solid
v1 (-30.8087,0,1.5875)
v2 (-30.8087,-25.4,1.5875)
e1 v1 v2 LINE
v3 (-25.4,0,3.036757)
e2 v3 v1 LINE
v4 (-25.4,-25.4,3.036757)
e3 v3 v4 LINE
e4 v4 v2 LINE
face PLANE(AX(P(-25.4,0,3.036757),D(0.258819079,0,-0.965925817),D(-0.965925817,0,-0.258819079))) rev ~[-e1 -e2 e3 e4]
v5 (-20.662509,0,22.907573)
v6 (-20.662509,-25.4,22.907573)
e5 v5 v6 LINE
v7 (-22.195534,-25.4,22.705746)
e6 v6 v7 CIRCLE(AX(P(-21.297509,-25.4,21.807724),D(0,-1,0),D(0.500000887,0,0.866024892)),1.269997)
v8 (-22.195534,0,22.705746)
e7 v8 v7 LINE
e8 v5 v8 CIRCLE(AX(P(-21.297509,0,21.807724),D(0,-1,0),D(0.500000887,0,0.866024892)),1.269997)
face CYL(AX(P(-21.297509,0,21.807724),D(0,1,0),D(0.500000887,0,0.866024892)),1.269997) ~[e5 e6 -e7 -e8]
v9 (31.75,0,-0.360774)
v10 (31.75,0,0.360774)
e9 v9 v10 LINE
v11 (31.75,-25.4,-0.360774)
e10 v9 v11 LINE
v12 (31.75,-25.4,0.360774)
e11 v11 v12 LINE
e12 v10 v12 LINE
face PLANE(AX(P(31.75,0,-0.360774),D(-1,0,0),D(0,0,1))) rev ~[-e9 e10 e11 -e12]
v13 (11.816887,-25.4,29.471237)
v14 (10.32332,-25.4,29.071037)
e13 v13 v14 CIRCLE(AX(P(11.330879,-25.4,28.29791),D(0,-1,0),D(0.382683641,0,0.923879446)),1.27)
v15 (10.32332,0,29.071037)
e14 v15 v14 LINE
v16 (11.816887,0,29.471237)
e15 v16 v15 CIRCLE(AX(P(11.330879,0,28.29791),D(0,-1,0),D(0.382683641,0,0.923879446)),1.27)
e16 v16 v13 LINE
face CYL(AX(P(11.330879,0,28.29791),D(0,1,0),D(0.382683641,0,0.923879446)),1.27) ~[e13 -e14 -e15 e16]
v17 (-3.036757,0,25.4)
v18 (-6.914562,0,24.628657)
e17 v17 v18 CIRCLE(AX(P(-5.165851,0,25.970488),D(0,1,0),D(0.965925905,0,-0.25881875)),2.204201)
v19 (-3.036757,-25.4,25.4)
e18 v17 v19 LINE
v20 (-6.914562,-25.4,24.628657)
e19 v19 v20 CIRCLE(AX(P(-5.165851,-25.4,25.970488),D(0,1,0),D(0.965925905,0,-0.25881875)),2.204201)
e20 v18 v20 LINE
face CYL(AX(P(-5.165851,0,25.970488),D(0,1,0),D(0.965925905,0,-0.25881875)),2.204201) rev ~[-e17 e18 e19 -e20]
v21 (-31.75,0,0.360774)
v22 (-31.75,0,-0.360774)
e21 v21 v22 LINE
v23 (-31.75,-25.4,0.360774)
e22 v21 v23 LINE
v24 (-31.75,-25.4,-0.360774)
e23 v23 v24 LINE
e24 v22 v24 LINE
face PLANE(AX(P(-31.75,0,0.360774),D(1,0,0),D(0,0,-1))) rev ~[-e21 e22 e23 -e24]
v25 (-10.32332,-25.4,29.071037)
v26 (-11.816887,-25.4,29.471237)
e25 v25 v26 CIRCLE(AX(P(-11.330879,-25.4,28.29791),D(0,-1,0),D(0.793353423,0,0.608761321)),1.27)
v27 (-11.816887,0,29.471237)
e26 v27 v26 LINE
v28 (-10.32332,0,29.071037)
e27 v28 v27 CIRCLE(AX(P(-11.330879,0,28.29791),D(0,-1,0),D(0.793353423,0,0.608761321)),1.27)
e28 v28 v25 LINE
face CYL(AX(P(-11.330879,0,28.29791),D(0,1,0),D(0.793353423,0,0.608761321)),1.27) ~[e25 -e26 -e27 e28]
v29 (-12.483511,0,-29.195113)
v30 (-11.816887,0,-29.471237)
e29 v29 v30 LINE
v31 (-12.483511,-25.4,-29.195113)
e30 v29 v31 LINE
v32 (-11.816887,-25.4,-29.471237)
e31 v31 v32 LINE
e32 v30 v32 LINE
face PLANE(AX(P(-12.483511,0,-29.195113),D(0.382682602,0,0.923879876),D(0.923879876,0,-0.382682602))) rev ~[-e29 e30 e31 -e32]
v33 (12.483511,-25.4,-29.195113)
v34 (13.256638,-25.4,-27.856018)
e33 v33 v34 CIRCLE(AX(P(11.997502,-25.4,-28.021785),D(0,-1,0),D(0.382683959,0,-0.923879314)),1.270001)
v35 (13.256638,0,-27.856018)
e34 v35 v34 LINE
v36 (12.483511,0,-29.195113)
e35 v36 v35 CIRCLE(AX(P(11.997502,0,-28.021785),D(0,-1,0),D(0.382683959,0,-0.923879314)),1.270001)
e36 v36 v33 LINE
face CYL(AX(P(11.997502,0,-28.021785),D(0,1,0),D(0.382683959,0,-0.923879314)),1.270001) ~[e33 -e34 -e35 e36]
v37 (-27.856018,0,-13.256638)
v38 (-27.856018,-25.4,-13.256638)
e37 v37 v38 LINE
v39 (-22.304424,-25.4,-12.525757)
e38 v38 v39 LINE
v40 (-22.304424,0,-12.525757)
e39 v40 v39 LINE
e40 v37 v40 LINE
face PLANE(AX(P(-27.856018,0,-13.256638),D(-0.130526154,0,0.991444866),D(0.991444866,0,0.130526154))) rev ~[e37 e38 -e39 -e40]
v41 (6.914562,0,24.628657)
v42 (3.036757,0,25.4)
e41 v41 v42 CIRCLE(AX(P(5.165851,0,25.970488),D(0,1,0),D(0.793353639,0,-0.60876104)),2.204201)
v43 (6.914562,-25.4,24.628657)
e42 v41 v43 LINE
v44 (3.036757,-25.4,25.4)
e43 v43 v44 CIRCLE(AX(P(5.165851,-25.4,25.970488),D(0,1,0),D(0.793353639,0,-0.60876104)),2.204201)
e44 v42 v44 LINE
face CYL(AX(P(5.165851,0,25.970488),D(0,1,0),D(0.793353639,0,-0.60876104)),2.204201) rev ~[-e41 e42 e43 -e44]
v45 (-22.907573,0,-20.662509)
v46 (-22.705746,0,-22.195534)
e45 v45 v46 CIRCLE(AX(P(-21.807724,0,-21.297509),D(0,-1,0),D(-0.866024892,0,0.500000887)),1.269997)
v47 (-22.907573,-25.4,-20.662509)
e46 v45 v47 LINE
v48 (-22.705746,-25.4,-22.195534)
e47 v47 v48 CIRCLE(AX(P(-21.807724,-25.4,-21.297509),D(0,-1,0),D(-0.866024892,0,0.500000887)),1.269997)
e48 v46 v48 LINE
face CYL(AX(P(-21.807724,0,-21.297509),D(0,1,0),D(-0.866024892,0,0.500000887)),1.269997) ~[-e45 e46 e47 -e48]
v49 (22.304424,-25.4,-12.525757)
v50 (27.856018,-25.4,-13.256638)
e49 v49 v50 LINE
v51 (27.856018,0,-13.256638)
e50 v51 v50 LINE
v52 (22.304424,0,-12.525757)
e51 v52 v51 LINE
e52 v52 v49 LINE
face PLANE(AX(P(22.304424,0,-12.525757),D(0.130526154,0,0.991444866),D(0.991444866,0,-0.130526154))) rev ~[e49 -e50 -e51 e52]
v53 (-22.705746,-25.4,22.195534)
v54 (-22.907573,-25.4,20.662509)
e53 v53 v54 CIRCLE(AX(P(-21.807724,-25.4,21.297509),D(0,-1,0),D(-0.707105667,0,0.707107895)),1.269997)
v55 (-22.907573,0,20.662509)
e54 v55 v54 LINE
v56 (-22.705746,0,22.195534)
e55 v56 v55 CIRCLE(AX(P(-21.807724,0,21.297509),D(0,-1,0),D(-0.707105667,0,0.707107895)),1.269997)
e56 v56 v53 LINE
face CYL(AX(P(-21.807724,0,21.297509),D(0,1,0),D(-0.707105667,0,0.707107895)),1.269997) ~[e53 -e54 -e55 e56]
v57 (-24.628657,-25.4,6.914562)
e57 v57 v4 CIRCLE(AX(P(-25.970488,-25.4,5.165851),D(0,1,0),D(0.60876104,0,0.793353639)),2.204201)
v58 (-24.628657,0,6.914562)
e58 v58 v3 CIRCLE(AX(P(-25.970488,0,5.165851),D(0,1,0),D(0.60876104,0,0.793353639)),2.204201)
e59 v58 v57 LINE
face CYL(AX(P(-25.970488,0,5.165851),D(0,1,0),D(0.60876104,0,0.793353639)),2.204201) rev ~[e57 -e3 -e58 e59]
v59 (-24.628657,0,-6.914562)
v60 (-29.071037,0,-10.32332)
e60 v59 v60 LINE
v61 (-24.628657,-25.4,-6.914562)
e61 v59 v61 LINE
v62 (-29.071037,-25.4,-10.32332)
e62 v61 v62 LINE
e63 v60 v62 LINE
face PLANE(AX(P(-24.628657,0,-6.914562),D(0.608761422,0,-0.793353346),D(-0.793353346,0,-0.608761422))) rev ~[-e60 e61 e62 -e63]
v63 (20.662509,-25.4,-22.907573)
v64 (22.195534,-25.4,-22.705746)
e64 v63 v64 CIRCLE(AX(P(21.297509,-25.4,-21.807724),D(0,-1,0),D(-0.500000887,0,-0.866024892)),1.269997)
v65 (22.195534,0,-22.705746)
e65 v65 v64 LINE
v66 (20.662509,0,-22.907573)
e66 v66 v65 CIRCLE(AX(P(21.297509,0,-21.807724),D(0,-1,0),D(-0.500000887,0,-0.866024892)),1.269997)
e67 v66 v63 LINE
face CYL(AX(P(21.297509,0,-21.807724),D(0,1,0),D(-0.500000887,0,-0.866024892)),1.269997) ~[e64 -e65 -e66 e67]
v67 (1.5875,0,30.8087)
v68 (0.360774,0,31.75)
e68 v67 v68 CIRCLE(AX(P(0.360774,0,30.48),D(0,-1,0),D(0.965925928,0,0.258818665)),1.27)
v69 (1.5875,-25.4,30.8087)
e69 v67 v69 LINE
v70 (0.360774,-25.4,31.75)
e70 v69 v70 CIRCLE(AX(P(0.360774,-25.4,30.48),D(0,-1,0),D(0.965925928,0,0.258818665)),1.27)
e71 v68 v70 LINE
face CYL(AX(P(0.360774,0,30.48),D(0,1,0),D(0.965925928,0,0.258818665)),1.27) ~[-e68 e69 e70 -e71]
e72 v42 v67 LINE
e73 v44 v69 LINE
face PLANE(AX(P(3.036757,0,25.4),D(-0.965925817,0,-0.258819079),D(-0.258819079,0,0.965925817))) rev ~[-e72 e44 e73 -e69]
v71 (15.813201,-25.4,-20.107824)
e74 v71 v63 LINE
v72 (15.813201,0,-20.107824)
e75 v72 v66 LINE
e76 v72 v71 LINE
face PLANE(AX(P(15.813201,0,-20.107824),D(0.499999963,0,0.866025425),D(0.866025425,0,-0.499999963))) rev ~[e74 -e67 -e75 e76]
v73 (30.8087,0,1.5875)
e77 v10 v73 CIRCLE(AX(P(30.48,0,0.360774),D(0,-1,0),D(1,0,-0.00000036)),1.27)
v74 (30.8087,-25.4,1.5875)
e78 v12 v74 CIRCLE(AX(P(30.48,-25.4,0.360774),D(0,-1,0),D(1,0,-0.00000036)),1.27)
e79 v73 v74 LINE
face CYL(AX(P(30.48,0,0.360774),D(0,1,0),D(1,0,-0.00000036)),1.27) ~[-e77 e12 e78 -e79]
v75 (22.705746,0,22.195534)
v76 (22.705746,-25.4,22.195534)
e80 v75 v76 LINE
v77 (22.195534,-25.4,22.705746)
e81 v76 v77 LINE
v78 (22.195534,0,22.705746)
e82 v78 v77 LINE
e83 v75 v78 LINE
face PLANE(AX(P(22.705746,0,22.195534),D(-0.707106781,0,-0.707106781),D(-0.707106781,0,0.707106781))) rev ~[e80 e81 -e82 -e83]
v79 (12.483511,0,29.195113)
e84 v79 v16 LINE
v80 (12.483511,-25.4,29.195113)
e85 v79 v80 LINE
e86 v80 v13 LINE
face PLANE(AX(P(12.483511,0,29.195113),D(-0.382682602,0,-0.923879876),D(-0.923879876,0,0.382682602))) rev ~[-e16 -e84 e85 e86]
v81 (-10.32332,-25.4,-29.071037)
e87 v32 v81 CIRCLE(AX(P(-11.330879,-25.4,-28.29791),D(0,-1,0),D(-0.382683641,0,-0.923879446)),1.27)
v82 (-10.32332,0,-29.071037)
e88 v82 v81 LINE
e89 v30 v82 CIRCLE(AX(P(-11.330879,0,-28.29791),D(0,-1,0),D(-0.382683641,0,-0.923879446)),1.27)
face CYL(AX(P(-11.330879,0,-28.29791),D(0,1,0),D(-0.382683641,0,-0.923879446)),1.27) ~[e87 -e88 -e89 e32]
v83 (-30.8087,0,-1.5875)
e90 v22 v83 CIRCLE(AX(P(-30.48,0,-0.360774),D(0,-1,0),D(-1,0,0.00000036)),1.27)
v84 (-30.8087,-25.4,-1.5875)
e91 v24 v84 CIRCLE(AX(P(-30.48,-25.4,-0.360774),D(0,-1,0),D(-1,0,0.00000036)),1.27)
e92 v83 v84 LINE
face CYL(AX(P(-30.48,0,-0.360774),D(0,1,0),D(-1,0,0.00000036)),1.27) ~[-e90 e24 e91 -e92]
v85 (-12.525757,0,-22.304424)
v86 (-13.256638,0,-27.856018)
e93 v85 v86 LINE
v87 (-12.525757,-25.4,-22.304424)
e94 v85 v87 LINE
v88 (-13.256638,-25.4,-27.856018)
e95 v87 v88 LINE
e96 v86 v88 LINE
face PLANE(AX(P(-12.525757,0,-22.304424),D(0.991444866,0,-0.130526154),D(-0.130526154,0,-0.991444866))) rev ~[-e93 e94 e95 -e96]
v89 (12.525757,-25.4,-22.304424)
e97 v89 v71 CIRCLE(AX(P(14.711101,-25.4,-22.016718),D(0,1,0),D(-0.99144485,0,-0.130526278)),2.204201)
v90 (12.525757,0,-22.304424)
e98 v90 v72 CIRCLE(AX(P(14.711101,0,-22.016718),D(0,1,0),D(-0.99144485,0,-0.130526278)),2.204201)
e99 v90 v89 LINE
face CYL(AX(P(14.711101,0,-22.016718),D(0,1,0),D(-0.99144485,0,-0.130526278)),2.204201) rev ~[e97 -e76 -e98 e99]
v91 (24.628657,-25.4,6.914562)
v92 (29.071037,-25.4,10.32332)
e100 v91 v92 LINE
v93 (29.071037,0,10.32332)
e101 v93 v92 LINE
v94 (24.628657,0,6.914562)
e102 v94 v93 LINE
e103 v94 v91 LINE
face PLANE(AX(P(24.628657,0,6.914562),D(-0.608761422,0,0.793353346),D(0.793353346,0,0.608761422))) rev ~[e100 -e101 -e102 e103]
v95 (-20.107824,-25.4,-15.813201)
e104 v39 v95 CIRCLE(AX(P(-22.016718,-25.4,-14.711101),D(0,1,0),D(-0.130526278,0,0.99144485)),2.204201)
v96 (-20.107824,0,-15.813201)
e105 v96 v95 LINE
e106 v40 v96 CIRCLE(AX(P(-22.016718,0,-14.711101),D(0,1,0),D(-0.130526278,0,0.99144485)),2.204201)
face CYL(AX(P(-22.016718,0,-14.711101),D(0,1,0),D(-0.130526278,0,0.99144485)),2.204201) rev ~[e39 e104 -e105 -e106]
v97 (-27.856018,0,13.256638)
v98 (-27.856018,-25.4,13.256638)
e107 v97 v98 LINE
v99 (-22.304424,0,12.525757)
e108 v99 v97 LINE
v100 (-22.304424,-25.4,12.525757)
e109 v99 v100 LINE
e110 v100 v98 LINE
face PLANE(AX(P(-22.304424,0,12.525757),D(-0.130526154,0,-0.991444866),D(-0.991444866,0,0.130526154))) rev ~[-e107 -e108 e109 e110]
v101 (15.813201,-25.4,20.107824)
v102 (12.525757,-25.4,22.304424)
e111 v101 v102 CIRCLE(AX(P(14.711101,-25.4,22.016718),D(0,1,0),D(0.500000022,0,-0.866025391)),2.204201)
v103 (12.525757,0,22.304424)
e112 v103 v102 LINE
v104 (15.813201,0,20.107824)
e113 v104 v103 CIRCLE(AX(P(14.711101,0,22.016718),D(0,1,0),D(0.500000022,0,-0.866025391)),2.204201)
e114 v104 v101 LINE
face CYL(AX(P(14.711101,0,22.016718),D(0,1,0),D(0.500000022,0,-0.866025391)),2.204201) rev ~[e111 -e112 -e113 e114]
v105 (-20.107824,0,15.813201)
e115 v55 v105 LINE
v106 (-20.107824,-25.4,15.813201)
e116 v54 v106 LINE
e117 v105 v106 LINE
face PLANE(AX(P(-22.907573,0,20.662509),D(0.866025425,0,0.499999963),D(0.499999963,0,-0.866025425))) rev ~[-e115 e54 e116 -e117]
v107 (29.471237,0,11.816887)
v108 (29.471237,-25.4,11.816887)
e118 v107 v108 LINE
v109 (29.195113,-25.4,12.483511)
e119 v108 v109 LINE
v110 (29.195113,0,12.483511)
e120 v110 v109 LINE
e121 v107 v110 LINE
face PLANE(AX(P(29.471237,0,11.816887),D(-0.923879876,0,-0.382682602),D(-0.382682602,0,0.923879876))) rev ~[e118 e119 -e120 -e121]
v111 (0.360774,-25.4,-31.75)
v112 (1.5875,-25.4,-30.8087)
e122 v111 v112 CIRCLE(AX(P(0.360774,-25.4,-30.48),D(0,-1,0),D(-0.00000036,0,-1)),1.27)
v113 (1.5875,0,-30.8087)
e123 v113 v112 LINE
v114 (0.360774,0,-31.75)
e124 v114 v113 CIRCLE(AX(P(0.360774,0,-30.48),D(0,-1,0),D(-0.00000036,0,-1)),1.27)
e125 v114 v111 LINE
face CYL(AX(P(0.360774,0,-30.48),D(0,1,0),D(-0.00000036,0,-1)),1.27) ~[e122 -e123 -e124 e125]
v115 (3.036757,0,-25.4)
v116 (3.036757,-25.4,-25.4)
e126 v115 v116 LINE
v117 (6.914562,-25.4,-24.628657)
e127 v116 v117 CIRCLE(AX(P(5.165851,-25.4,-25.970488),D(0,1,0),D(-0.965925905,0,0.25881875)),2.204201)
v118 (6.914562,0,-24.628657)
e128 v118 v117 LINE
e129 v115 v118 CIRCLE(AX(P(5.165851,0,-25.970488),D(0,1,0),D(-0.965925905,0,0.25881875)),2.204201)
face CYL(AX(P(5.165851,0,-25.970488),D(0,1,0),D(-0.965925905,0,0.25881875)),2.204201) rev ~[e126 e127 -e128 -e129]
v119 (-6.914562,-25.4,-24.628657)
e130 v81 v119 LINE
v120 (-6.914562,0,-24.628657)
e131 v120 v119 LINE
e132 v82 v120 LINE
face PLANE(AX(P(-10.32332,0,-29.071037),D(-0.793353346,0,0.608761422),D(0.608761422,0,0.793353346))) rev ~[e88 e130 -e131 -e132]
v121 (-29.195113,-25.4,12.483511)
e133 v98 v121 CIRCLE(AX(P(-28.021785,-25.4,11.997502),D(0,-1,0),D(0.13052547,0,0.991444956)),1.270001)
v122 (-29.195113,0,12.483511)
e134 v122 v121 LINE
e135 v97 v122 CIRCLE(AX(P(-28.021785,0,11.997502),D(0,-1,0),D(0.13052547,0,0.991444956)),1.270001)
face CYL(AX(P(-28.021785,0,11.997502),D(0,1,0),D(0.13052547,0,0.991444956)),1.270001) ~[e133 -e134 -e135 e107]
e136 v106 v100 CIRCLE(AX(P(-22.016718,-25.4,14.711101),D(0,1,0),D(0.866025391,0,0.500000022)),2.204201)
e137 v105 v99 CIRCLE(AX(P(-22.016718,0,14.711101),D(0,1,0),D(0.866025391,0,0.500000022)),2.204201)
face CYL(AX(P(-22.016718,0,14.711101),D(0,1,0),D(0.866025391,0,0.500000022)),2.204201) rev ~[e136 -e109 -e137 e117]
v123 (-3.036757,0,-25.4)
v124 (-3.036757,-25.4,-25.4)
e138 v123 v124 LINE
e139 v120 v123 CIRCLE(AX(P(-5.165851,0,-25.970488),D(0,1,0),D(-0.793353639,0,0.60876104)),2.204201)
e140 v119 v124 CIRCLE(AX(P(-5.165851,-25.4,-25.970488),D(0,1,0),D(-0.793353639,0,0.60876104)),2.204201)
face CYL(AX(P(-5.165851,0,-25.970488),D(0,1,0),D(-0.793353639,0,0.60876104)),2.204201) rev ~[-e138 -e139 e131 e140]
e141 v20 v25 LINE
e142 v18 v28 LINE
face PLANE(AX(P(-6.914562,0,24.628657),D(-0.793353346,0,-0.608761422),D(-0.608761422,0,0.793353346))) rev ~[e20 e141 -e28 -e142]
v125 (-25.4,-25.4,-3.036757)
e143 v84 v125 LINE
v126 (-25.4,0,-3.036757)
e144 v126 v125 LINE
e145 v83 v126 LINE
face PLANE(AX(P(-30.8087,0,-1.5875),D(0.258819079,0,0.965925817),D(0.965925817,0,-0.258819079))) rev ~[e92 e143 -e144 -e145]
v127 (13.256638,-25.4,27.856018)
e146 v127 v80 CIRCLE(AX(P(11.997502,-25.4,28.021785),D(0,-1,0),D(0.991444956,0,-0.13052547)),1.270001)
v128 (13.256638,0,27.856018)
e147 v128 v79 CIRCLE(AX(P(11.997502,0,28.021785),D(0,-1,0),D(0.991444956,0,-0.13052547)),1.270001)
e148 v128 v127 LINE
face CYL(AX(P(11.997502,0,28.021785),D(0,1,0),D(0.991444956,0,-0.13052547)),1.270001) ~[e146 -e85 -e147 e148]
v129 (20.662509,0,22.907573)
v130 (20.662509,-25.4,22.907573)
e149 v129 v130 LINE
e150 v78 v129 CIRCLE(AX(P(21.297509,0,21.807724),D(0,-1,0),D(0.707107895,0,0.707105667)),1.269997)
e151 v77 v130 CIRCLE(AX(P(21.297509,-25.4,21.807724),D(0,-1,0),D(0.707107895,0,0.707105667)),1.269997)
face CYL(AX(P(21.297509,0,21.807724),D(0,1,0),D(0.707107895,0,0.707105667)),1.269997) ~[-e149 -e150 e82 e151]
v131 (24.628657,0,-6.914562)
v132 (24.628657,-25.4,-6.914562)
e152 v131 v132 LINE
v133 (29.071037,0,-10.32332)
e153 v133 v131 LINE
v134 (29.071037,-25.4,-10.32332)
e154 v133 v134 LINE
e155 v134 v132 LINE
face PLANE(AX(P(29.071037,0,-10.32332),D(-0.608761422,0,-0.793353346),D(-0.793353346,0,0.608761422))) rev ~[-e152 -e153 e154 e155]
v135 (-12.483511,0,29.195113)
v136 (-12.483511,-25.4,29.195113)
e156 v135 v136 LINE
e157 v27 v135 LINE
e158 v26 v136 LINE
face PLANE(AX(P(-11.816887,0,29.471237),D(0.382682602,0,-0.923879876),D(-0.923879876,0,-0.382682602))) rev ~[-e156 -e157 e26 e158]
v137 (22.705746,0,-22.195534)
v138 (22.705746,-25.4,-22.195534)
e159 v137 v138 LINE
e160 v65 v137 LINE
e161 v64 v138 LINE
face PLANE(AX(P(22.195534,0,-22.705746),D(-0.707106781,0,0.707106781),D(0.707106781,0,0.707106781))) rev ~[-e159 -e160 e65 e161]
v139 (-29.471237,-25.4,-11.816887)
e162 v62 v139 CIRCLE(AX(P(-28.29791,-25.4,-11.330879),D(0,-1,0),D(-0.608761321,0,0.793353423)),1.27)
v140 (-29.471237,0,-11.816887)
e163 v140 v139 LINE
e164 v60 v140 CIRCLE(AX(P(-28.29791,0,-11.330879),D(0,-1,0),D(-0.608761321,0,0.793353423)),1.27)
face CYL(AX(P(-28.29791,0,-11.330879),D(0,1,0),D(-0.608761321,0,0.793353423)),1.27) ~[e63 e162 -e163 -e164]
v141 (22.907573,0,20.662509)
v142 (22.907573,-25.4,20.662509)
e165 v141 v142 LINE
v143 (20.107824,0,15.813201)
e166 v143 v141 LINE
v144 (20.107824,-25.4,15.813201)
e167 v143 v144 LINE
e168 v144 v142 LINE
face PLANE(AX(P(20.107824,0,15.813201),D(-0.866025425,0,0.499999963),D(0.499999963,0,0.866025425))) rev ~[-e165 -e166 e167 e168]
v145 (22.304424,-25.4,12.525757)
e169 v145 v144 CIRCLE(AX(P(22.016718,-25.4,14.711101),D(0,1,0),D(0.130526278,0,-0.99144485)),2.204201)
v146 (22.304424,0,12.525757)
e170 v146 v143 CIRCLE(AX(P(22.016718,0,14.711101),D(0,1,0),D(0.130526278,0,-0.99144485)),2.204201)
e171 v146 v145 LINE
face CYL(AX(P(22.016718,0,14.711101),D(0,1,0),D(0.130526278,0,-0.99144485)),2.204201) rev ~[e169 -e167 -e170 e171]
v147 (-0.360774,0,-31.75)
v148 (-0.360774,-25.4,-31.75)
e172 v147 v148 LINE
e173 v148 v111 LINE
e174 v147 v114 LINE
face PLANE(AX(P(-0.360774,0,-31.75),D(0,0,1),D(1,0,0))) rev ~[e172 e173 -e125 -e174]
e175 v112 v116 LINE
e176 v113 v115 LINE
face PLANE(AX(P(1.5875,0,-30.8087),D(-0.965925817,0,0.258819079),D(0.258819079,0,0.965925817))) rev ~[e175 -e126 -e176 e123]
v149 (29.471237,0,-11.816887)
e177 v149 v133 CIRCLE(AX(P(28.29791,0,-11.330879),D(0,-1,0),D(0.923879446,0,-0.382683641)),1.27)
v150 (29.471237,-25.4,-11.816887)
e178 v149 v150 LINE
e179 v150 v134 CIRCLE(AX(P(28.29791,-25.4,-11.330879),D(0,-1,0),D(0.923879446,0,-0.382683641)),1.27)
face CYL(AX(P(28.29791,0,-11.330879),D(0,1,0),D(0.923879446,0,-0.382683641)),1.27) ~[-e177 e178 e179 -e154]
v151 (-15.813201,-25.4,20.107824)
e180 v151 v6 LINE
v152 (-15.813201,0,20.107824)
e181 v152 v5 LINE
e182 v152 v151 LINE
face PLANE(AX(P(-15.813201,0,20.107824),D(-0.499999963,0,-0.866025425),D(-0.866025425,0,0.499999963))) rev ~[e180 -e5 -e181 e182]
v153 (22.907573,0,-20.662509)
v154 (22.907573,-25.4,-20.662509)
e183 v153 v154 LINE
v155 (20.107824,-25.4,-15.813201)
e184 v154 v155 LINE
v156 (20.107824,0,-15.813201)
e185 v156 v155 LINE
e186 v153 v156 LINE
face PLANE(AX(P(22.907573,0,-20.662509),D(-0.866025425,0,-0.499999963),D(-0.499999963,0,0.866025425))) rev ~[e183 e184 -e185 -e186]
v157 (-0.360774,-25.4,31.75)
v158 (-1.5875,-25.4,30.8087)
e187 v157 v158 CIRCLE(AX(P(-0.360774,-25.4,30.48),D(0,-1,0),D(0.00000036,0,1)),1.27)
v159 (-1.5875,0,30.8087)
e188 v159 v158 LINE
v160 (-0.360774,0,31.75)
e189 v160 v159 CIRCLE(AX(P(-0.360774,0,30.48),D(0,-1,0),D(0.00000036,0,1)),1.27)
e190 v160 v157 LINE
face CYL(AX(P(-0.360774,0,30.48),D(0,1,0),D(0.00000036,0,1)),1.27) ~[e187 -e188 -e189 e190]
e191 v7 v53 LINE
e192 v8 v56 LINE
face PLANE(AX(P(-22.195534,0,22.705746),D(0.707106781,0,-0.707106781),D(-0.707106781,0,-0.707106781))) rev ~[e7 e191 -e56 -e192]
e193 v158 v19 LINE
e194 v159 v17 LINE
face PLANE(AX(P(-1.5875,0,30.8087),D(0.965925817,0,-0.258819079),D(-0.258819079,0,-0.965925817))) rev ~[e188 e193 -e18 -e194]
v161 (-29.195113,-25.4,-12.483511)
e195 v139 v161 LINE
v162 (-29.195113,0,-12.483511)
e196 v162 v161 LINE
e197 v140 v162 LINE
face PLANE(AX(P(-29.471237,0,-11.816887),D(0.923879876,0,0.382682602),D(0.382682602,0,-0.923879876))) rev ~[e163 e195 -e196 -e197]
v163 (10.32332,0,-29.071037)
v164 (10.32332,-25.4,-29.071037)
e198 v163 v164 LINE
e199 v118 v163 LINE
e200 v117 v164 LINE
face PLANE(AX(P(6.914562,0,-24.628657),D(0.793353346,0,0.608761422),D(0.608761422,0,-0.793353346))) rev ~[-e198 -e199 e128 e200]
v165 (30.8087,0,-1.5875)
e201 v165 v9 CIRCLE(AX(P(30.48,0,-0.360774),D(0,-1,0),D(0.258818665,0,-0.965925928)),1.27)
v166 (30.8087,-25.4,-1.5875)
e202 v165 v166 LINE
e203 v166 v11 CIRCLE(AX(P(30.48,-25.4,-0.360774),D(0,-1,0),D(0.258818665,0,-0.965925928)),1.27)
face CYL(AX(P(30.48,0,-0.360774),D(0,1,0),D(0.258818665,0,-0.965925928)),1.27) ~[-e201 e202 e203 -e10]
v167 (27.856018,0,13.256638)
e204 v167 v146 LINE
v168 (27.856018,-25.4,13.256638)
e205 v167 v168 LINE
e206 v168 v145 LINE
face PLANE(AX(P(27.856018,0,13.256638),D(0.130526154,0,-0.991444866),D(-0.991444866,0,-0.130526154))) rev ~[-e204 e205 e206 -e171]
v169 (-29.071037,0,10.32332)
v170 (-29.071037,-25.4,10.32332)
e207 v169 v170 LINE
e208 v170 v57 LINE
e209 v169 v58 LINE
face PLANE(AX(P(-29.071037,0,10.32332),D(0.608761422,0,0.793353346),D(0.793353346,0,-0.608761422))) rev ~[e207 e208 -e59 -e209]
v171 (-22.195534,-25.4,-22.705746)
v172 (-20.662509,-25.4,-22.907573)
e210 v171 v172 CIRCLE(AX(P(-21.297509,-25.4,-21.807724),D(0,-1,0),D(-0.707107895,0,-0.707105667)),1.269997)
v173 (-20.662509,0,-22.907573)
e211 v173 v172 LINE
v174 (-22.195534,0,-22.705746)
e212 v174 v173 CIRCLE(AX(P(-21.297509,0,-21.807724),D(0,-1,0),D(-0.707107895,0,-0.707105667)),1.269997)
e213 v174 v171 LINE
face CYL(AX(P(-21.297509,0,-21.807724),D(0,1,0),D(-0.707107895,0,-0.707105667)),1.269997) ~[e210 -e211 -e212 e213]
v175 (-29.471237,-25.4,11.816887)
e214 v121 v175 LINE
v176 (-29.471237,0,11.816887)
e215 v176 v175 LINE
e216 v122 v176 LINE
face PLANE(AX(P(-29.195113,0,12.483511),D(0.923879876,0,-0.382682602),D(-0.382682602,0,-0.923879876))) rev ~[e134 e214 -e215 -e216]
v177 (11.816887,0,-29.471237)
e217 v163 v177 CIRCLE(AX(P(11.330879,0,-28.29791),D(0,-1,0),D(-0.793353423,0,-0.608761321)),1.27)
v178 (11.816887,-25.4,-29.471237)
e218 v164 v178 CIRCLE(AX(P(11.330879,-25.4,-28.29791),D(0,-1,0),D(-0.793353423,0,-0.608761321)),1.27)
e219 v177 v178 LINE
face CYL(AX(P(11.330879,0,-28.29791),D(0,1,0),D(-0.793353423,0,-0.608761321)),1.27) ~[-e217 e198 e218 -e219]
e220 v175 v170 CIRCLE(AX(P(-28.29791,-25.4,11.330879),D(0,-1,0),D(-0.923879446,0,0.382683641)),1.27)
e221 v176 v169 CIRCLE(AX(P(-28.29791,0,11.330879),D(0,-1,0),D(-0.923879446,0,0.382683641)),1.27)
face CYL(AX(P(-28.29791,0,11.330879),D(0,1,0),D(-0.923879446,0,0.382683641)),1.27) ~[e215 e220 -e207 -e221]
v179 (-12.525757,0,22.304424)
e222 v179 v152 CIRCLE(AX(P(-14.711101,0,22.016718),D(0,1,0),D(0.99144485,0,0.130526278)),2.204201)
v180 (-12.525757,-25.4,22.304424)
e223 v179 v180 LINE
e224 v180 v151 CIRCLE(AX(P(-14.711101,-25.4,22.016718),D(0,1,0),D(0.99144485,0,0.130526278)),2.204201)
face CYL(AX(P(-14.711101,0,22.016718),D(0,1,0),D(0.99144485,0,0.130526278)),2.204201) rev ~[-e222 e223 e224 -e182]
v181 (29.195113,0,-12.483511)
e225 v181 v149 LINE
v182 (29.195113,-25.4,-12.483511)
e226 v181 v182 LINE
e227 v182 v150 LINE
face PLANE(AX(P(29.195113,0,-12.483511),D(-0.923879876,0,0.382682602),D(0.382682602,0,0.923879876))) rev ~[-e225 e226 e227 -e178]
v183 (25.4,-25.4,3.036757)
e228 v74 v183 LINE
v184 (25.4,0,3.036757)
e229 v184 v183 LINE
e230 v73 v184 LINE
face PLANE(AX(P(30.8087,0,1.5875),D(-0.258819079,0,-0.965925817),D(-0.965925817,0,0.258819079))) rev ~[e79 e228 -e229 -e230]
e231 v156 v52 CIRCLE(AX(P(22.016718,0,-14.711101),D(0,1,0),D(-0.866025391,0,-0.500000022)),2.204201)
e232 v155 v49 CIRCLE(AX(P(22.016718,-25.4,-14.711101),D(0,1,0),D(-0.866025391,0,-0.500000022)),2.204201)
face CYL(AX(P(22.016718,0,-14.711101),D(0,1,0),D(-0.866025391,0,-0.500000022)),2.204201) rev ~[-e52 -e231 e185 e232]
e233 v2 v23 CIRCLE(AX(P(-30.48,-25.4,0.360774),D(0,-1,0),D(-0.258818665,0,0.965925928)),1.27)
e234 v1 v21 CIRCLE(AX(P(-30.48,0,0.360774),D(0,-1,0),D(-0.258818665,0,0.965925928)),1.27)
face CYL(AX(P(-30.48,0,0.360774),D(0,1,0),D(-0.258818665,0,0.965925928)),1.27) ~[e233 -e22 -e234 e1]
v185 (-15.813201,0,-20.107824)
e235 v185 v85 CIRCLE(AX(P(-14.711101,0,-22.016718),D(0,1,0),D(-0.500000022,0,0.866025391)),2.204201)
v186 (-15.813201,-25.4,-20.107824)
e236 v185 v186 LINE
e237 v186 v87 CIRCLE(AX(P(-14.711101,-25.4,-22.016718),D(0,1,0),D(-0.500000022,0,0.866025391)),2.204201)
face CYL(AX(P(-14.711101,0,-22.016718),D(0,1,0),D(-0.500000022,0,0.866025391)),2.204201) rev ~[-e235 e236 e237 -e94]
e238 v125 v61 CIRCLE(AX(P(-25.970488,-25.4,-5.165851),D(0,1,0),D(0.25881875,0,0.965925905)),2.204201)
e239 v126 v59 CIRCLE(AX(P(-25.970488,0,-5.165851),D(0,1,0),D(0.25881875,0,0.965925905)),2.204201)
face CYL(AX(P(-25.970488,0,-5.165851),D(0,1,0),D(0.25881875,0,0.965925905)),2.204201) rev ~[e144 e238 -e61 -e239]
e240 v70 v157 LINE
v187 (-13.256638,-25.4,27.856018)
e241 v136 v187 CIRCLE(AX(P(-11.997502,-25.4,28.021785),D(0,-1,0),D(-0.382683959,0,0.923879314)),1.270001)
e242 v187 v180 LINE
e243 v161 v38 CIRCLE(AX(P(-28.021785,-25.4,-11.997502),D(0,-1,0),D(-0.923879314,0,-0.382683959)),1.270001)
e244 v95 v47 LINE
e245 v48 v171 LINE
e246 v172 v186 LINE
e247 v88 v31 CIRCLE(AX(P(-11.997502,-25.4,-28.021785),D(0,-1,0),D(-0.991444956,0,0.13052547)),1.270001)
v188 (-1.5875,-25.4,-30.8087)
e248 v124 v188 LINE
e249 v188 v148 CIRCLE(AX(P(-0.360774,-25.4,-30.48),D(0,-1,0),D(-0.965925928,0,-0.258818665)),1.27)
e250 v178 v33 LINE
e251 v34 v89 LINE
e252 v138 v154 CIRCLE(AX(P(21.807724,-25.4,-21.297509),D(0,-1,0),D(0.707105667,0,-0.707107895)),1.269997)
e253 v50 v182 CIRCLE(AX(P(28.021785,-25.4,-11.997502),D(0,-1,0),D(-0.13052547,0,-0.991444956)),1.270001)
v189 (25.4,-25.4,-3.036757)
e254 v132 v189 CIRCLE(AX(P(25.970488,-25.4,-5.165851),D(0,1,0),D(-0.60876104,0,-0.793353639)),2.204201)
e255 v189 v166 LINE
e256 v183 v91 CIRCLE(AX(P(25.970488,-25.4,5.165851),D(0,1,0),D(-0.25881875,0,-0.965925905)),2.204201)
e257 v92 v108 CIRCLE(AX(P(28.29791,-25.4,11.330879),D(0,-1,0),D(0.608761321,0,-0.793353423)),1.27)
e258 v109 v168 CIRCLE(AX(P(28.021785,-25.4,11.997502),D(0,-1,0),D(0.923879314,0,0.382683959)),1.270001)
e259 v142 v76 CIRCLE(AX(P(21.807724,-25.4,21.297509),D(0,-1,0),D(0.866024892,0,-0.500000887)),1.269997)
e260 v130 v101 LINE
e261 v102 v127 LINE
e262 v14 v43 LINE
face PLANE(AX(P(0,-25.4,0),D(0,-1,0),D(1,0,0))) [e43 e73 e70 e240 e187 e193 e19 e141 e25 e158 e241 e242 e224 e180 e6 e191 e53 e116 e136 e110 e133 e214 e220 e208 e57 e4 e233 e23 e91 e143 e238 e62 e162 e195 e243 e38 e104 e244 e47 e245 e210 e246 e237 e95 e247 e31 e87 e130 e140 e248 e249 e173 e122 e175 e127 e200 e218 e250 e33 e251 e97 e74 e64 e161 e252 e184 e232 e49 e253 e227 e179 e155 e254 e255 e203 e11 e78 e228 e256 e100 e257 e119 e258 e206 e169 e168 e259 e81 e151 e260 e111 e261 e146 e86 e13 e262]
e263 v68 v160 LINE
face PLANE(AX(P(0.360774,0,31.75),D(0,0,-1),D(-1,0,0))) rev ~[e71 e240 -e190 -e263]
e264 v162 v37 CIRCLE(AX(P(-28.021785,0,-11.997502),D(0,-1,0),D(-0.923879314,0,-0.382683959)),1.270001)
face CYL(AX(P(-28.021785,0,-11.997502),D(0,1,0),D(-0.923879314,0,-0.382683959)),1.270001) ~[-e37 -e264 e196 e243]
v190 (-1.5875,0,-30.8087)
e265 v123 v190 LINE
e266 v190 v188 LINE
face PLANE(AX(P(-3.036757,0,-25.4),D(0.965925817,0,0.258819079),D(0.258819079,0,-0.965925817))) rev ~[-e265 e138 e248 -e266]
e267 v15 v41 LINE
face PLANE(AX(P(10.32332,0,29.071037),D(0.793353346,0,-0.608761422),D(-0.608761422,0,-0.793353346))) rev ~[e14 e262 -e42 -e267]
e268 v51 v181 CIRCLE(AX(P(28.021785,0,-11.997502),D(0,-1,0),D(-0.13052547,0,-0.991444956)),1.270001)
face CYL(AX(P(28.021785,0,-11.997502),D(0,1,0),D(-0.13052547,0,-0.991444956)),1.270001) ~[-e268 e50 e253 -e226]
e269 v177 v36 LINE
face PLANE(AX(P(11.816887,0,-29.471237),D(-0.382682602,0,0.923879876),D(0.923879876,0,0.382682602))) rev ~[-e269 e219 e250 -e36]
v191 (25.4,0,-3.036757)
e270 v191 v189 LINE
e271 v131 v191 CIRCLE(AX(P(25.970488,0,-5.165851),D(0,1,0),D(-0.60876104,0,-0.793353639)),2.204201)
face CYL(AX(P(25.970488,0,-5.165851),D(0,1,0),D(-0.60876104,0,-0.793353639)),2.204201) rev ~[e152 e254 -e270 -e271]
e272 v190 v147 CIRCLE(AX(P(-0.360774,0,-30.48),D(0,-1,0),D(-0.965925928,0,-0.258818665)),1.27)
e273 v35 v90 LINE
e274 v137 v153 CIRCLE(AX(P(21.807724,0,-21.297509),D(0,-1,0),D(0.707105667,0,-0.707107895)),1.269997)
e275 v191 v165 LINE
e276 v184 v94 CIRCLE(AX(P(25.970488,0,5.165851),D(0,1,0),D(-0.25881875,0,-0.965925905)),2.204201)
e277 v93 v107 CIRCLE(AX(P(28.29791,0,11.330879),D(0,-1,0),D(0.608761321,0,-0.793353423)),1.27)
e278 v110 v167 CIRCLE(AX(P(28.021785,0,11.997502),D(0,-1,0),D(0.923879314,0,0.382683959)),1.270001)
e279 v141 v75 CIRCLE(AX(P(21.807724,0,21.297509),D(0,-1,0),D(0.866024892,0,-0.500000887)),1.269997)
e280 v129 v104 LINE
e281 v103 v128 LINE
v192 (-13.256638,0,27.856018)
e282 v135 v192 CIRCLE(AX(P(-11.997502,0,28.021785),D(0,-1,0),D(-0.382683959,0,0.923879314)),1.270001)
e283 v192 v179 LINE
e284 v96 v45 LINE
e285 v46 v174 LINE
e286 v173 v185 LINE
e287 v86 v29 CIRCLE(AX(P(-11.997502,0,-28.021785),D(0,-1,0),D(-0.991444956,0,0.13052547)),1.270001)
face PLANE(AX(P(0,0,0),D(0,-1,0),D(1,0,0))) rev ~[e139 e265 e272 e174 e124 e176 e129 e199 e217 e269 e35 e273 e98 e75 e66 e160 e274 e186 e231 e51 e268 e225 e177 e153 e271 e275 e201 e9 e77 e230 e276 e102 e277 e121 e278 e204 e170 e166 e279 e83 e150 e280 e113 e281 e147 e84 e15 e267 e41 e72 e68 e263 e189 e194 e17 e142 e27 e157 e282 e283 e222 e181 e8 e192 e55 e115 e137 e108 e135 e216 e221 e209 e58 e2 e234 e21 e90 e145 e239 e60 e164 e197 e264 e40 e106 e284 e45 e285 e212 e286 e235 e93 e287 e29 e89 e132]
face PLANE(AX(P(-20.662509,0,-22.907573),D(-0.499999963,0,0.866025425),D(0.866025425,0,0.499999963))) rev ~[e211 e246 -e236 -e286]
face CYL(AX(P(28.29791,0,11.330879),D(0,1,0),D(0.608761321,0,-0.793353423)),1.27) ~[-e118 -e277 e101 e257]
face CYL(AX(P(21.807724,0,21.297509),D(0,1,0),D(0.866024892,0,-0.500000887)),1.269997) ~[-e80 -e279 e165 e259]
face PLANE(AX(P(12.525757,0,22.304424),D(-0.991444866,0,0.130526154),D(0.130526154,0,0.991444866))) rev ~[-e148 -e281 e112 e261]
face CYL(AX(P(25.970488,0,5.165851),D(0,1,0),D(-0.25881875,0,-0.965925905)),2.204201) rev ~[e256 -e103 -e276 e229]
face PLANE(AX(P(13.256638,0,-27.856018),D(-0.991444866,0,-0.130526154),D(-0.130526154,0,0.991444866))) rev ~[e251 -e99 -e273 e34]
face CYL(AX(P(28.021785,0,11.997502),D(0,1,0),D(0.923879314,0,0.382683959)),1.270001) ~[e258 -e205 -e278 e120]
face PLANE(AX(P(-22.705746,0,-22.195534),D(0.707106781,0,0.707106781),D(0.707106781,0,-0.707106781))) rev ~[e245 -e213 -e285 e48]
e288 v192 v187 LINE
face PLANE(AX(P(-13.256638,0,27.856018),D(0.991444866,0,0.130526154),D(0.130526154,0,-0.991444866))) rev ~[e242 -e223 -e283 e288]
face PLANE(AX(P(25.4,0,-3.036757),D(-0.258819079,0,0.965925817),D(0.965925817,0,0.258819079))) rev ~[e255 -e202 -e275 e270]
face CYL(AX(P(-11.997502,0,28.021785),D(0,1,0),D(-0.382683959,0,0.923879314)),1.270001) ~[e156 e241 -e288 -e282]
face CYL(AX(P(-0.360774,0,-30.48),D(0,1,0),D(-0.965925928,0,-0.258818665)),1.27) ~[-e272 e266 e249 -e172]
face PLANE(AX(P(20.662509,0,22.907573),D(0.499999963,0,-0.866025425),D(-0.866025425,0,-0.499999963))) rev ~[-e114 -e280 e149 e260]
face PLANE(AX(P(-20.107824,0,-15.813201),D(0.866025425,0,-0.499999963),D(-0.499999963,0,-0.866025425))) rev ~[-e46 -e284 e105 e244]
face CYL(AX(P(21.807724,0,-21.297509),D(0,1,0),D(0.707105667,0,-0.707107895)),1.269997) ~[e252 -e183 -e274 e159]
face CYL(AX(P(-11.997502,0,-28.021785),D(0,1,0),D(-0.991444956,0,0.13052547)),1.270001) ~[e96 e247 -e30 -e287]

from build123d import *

# Parameters (mm, degrees)
F1_DEPTH = 25.4


with BuildPart() as f1:
    # F0 (on Front) → F1 (new body)
    with BuildSketch(Plane.XZ):
        with BuildLine():
            Line((0.360774, 31.75), (0, 31.75))
            Line((0, 31.75), (-0.360774, 31.75))
            ThreePointArc((-0.360774, 31.75), (-1.133901, 31.487559), (-1.5875, 30.8087))
            Line((-1.5875, 30.8087), (-3.036757, 25.4))
            ThreePointArc((-3.036757, 25.4), (-4.735833, 23.808641), (-6.914562, 24.628657))
            Line((-6.914562, 24.628657), (-10.32332, 29.071037))
            ThreePointArc((-10.32332, 29.071037), (-11.002179, 29.524636), (-11.816887, 29.471237))
            Line((-11.816887, 29.471237), (-12.150199, 29.333175))
            Line((-12.150199, 29.333175), (-12.483511, 29.195113))
            ThreePointArc((-12.483511, 29.195113), (-13.097355, 28.656786), (-13.256638, 27.856018))
            Line((-13.256638, 27.856018), (-12.525757, 22.304424))
            ThreePointArc((-12.525757, 22.304424), (-13.486512, 20.183992), (-15.813201, 20.107824))
            Line((-15.813201, 20.107824), (-20.662509, 22.907573))
            ThreePointArc((-20.662509, 22.907573), (-21.463277, 23.066856), (-22.195534, 22.705746))
            Line((-22.195534, 22.705746), (-22.45064, 22.45064))
            Line((-22.45064, 22.45064), (-22.705746, 22.195534))
            ThreePointArc((-22.705746, 22.195534), (-23.066856, 21.463277), (-22.907573, 20.662509))
            Line((-22.907573, 20.662509), (-20.107824, 15.813201))
            ThreePointArc((-20.107824, 15.813201), (-20.183992, 13.486512), (-22.304424, 12.525757))
            Line((-22.304424, 12.525757), (-27.856018, 13.256638))
            ThreePointArc((-27.856018, 13.256638), (-28.656786, 13.097355), (-29.195113, 12.483511))
            Line((-29.195113, 12.483511), (-29.333175, 12.150199))
            Line((-29.333175, 12.150199), (-29.471237, 11.816887))
            ThreePointArc((-29.471237, 11.816887), (-29.524636, 11.002179), (-29.071037, 10.32332))
            Line((-29.071037, 10.32332), (-24.628657, 6.914562))
            ThreePointArc((-24.628657, 6.914562), (-23.808641, 4.735833), (-25.4, 3.036757))
            Line((-25.4, 3.036757), (-30.8087, 1.5875))
            ThreePointArc((-30.8087, 1.5875), (-31.487559, 1.133901), (-31.75, 0.360774))
            Line((-31.75, 0.360774), (-31.75, 0))
            Line((-31.75, 0), (-31.75, -0.360774))
            ThreePointArc((-31.75, -0.360774), (-31.487559, -1.133901), (-30.8087, -1.5875))
            Line((-30.8087, -1.5875), (-25.4, -3.036757))
            ThreePointArc((-25.4, -3.036757), (-23.808641, -4.735833), (-24.628657, -6.914562))
            Line((-24.628657, -6.914562), (-29.071037, -10.32332))
            ThreePointArc((-29.071037, -10.32332), (-29.524636, -11.002179), (-29.471237, -11.816887))
            Line((-29.471237, -11.816887), (-29.333175, -12.150199))
            Line((-29.333175, -12.150199), (-29.195113, -12.483511))
            ThreePointArc((-29.195113, -12.483511), (-28.656786, -13.097355), (-27.856018, -13.256638))
            Line((-27.856018, -13.256638), (-22.304424, -12.525757))
            ThreePointArc((-22.304424, -12.525757), (-20.183992, -13.486512), (-20.107824, -15.813201))
            Line((-20.107824, -15.813201), (-22.907573, -20.662509))
            ThreePointArc((-22.907573, -20.662509), (-23.066856, -21.463277), (-22.705746, -22.195534))
            Line((-22.705746, -22.195534), (-22.45064, -22.45064))
            Line((-22.45064, -22.45064), (-22.195534, -22.705746))
            ThreePointArc((-22.195534, -22.705746), (-21.463277, -23.066856), (-20.662509, -22.907573))
            Line((-20.662509, -22.907573), (-15.813201, -20.107824))
            ThreePointArc((-15.813201, -20.107824), (-13.486512, -20.183992), (-12.525757, -22.304424))
            Line((-12.525757, -22.304424), (-13.256638, -27.856018))
            ThreePointArc((-13.256638, -27.856018), (-13.097355, -28.656786), (-12.483511, -29.195113))
            Line((-12.483511, -29.195113), (-12.150199, -29.333175))
            Line((-12.150199, -29.333175), (-11.816887, -29.471237))
            ThreePointArc((-11.816887, -29.471237), (-11.002179, -29.524636), (-10.32332, -29.071037))
            Line((-10.32332, -29.071037), (-6.914562, -24.628657))
            ThreePointArc((-6.914562, -24.628657), (-4.735833, -23.808641), (-3.036757, -25.4))
            Line((-3.036757, -25.4), (-1.5875, -30.8087))
            ThreePointArc((-1.5875, -30.8087), (-1.133901, -31.487559), (-0.360774, -31.75))
            Line((-0.360774, -31.75), (0, -31.75))
            Line((0, -31.75), (0.360774, -31.75))
            ThreePointArc((0.360774, -31.75), (1.133901, -31.487559), (1.5875, -30.8087))
            Line((1.5875, -30.8087), (3.036757, -25.4))
            ThreePointArc((3.036757, -25.4), (4.735833, -23.808641), (6.914562, -24.628657))
            Line((6.914562, -24.628657), (10.32332, -29.071037))
            ThreePointArc((10.32332, -29.071037), (11.002179, -29.524636), (11.816887, -29.471237))
            Line((11.816887, -29.471237), (12.150199, -29.333175))
            Line((12.150199, -29.333175), (12.483511, -29.195113))
            ThreePointArc((12.483511, -29.195113), (13.097355, -28.656786), (13.256638, -27.856018))
            Line((13.256638, -27.856018), (12.525757, -22.304424))
            ThreePointArc((12.525757, -22.304424), (13.486512, -20.183992), (15.813201, -20.107824))
            Line((15.813201, -20.107824), (20.662509, -22.907573))
            ThreePointArc((20.662509, -22.907573), (21.463277, -23.066856), (22.195534, -22.705746))
            Line((22.195534, -22.705746), (22.45064, -22.45064))
            Line((22.45064, -22.45064), (22.705746, -22.195534))
            ThreePointArc((22.705746, -22.195534), (23.066856, -21.463277), (22.907573, -20.662509))
            Line((22.907573, -20.662509), (20.107824, -15.813201))
            ThreePointArc((20.107824, -15.813201), (20.183992, -13.486512), (22.304424, -12.525757))
            Line((22.304424, -12.525757), (27.856018, -13.256638))
            ThreePointArc((27.856018, -13.256638), (28.656786, -13.097355), (29.195113, -12.483511))
            Line((29.195113, -12.483511), (29.333175, -12.150199))
            Line((29.333175, -12.150199), (29.471237, -11.816887))
            ThreePointArc((29.471237, -11.816887), (29.524636, -11.002179), (29.071037, -10.32332))
            Line((29.071037, -10.32332), (24.628657, -6.914562))
            ThreePointArc((24.628657, -6.914562), (23.808641, -4.735833), (25.4, -3.036757))
            Line((25.4, -3.036757), (30.8087, -1.5875))
            ThreePointArc((30.8087, -1.5875), (31.487559, -1.133901), (31.75, -0.360774))
            Line((31.75, -0.360774), (31.75, 0))
            Line((31.75, 0), (31.75, 0.360774))
            ThreePointArc((31.75, 0.360774), (31.487559, 1.133901), (30.8087, 1.5875))
            Line((30.8087, 1.5875), (25.4, 3.036757))
            ThreePointArc((25.4, 3.036757), (23.808641, 4.735833), (24.628657, 6.914562))
            Line((24.628657, 6.914562), (29.071037, 10.32332))
            ThreePointArc((29.071037, 10.32332), (29.524636, 11.002179), (29.471237, 11.816887))
            Line((29.471237, 11.816887), (29.333175, 12.150199))
            Line((29.333175, 12.150199), (29.195113, 12.483511))
            ThreePointArc((29.195113, 12.483511), (28.656786, 13.097355), (27.856018, 13.256638))
            Line((27.856018, 13.256638), (22.304424, 12.525757))
            ThreePointArc((22.304424, 12.525757), (20.183992, 13.486512), (20.107824, 15.813201))
            Line((20.107824, 15.813201), (22.907573, 20.662509))
            ThreePointArc((22.907573, 20.662509), (23.066856, 21.463277), (22.705746, 22.195534))
            Line((22.705746, 22.195534), (22.45064, 22.45064))
            Line((22.45064, 22.45064), (22.195534, 22.705746))
            ThreePointArc((22.195534, 22.705746), (21.463277, 23.066856), (20.662509, 22.907573))
            Line((20.662509, 22.907573), (15.813201, 20.107824))
            ThreePointArc((15.813201, 20.107824), (13.486512, 20.183992), (12.525757, 22.304424))
            Line((12.525757, 22.304424), (13.256638, 27.856018))
            ThreePointArc((13.256638, 27.856018), (13.097355, 28.656786), (12.483511, 29.195113))
            Line((12.483511, 29.195113), (12.150199, 29.333175))
            Line((12.150199, 29.333175), (11.816887, 29.471237))
            ThreePointArc((11.816887, 29.471237), (11.002179, 29.524636), (10.32332, 29.071037))
            Line((10.32332, 29.071037), (6.914562, 24.628657))
            ThreePointArc((6.914562, 24.628657), (4.735833, 23.808641), (3.036757, 25.4))
            Line((3.036757, 25.4), (1.5875, 30.8087))
            ThreePointArc((1.5875, 30.8087), (1.133901, 31.487559), (0.360774, 31.75))
        make_face()
    extrude(amount=F1_DEPTH)


solid = f1.part
